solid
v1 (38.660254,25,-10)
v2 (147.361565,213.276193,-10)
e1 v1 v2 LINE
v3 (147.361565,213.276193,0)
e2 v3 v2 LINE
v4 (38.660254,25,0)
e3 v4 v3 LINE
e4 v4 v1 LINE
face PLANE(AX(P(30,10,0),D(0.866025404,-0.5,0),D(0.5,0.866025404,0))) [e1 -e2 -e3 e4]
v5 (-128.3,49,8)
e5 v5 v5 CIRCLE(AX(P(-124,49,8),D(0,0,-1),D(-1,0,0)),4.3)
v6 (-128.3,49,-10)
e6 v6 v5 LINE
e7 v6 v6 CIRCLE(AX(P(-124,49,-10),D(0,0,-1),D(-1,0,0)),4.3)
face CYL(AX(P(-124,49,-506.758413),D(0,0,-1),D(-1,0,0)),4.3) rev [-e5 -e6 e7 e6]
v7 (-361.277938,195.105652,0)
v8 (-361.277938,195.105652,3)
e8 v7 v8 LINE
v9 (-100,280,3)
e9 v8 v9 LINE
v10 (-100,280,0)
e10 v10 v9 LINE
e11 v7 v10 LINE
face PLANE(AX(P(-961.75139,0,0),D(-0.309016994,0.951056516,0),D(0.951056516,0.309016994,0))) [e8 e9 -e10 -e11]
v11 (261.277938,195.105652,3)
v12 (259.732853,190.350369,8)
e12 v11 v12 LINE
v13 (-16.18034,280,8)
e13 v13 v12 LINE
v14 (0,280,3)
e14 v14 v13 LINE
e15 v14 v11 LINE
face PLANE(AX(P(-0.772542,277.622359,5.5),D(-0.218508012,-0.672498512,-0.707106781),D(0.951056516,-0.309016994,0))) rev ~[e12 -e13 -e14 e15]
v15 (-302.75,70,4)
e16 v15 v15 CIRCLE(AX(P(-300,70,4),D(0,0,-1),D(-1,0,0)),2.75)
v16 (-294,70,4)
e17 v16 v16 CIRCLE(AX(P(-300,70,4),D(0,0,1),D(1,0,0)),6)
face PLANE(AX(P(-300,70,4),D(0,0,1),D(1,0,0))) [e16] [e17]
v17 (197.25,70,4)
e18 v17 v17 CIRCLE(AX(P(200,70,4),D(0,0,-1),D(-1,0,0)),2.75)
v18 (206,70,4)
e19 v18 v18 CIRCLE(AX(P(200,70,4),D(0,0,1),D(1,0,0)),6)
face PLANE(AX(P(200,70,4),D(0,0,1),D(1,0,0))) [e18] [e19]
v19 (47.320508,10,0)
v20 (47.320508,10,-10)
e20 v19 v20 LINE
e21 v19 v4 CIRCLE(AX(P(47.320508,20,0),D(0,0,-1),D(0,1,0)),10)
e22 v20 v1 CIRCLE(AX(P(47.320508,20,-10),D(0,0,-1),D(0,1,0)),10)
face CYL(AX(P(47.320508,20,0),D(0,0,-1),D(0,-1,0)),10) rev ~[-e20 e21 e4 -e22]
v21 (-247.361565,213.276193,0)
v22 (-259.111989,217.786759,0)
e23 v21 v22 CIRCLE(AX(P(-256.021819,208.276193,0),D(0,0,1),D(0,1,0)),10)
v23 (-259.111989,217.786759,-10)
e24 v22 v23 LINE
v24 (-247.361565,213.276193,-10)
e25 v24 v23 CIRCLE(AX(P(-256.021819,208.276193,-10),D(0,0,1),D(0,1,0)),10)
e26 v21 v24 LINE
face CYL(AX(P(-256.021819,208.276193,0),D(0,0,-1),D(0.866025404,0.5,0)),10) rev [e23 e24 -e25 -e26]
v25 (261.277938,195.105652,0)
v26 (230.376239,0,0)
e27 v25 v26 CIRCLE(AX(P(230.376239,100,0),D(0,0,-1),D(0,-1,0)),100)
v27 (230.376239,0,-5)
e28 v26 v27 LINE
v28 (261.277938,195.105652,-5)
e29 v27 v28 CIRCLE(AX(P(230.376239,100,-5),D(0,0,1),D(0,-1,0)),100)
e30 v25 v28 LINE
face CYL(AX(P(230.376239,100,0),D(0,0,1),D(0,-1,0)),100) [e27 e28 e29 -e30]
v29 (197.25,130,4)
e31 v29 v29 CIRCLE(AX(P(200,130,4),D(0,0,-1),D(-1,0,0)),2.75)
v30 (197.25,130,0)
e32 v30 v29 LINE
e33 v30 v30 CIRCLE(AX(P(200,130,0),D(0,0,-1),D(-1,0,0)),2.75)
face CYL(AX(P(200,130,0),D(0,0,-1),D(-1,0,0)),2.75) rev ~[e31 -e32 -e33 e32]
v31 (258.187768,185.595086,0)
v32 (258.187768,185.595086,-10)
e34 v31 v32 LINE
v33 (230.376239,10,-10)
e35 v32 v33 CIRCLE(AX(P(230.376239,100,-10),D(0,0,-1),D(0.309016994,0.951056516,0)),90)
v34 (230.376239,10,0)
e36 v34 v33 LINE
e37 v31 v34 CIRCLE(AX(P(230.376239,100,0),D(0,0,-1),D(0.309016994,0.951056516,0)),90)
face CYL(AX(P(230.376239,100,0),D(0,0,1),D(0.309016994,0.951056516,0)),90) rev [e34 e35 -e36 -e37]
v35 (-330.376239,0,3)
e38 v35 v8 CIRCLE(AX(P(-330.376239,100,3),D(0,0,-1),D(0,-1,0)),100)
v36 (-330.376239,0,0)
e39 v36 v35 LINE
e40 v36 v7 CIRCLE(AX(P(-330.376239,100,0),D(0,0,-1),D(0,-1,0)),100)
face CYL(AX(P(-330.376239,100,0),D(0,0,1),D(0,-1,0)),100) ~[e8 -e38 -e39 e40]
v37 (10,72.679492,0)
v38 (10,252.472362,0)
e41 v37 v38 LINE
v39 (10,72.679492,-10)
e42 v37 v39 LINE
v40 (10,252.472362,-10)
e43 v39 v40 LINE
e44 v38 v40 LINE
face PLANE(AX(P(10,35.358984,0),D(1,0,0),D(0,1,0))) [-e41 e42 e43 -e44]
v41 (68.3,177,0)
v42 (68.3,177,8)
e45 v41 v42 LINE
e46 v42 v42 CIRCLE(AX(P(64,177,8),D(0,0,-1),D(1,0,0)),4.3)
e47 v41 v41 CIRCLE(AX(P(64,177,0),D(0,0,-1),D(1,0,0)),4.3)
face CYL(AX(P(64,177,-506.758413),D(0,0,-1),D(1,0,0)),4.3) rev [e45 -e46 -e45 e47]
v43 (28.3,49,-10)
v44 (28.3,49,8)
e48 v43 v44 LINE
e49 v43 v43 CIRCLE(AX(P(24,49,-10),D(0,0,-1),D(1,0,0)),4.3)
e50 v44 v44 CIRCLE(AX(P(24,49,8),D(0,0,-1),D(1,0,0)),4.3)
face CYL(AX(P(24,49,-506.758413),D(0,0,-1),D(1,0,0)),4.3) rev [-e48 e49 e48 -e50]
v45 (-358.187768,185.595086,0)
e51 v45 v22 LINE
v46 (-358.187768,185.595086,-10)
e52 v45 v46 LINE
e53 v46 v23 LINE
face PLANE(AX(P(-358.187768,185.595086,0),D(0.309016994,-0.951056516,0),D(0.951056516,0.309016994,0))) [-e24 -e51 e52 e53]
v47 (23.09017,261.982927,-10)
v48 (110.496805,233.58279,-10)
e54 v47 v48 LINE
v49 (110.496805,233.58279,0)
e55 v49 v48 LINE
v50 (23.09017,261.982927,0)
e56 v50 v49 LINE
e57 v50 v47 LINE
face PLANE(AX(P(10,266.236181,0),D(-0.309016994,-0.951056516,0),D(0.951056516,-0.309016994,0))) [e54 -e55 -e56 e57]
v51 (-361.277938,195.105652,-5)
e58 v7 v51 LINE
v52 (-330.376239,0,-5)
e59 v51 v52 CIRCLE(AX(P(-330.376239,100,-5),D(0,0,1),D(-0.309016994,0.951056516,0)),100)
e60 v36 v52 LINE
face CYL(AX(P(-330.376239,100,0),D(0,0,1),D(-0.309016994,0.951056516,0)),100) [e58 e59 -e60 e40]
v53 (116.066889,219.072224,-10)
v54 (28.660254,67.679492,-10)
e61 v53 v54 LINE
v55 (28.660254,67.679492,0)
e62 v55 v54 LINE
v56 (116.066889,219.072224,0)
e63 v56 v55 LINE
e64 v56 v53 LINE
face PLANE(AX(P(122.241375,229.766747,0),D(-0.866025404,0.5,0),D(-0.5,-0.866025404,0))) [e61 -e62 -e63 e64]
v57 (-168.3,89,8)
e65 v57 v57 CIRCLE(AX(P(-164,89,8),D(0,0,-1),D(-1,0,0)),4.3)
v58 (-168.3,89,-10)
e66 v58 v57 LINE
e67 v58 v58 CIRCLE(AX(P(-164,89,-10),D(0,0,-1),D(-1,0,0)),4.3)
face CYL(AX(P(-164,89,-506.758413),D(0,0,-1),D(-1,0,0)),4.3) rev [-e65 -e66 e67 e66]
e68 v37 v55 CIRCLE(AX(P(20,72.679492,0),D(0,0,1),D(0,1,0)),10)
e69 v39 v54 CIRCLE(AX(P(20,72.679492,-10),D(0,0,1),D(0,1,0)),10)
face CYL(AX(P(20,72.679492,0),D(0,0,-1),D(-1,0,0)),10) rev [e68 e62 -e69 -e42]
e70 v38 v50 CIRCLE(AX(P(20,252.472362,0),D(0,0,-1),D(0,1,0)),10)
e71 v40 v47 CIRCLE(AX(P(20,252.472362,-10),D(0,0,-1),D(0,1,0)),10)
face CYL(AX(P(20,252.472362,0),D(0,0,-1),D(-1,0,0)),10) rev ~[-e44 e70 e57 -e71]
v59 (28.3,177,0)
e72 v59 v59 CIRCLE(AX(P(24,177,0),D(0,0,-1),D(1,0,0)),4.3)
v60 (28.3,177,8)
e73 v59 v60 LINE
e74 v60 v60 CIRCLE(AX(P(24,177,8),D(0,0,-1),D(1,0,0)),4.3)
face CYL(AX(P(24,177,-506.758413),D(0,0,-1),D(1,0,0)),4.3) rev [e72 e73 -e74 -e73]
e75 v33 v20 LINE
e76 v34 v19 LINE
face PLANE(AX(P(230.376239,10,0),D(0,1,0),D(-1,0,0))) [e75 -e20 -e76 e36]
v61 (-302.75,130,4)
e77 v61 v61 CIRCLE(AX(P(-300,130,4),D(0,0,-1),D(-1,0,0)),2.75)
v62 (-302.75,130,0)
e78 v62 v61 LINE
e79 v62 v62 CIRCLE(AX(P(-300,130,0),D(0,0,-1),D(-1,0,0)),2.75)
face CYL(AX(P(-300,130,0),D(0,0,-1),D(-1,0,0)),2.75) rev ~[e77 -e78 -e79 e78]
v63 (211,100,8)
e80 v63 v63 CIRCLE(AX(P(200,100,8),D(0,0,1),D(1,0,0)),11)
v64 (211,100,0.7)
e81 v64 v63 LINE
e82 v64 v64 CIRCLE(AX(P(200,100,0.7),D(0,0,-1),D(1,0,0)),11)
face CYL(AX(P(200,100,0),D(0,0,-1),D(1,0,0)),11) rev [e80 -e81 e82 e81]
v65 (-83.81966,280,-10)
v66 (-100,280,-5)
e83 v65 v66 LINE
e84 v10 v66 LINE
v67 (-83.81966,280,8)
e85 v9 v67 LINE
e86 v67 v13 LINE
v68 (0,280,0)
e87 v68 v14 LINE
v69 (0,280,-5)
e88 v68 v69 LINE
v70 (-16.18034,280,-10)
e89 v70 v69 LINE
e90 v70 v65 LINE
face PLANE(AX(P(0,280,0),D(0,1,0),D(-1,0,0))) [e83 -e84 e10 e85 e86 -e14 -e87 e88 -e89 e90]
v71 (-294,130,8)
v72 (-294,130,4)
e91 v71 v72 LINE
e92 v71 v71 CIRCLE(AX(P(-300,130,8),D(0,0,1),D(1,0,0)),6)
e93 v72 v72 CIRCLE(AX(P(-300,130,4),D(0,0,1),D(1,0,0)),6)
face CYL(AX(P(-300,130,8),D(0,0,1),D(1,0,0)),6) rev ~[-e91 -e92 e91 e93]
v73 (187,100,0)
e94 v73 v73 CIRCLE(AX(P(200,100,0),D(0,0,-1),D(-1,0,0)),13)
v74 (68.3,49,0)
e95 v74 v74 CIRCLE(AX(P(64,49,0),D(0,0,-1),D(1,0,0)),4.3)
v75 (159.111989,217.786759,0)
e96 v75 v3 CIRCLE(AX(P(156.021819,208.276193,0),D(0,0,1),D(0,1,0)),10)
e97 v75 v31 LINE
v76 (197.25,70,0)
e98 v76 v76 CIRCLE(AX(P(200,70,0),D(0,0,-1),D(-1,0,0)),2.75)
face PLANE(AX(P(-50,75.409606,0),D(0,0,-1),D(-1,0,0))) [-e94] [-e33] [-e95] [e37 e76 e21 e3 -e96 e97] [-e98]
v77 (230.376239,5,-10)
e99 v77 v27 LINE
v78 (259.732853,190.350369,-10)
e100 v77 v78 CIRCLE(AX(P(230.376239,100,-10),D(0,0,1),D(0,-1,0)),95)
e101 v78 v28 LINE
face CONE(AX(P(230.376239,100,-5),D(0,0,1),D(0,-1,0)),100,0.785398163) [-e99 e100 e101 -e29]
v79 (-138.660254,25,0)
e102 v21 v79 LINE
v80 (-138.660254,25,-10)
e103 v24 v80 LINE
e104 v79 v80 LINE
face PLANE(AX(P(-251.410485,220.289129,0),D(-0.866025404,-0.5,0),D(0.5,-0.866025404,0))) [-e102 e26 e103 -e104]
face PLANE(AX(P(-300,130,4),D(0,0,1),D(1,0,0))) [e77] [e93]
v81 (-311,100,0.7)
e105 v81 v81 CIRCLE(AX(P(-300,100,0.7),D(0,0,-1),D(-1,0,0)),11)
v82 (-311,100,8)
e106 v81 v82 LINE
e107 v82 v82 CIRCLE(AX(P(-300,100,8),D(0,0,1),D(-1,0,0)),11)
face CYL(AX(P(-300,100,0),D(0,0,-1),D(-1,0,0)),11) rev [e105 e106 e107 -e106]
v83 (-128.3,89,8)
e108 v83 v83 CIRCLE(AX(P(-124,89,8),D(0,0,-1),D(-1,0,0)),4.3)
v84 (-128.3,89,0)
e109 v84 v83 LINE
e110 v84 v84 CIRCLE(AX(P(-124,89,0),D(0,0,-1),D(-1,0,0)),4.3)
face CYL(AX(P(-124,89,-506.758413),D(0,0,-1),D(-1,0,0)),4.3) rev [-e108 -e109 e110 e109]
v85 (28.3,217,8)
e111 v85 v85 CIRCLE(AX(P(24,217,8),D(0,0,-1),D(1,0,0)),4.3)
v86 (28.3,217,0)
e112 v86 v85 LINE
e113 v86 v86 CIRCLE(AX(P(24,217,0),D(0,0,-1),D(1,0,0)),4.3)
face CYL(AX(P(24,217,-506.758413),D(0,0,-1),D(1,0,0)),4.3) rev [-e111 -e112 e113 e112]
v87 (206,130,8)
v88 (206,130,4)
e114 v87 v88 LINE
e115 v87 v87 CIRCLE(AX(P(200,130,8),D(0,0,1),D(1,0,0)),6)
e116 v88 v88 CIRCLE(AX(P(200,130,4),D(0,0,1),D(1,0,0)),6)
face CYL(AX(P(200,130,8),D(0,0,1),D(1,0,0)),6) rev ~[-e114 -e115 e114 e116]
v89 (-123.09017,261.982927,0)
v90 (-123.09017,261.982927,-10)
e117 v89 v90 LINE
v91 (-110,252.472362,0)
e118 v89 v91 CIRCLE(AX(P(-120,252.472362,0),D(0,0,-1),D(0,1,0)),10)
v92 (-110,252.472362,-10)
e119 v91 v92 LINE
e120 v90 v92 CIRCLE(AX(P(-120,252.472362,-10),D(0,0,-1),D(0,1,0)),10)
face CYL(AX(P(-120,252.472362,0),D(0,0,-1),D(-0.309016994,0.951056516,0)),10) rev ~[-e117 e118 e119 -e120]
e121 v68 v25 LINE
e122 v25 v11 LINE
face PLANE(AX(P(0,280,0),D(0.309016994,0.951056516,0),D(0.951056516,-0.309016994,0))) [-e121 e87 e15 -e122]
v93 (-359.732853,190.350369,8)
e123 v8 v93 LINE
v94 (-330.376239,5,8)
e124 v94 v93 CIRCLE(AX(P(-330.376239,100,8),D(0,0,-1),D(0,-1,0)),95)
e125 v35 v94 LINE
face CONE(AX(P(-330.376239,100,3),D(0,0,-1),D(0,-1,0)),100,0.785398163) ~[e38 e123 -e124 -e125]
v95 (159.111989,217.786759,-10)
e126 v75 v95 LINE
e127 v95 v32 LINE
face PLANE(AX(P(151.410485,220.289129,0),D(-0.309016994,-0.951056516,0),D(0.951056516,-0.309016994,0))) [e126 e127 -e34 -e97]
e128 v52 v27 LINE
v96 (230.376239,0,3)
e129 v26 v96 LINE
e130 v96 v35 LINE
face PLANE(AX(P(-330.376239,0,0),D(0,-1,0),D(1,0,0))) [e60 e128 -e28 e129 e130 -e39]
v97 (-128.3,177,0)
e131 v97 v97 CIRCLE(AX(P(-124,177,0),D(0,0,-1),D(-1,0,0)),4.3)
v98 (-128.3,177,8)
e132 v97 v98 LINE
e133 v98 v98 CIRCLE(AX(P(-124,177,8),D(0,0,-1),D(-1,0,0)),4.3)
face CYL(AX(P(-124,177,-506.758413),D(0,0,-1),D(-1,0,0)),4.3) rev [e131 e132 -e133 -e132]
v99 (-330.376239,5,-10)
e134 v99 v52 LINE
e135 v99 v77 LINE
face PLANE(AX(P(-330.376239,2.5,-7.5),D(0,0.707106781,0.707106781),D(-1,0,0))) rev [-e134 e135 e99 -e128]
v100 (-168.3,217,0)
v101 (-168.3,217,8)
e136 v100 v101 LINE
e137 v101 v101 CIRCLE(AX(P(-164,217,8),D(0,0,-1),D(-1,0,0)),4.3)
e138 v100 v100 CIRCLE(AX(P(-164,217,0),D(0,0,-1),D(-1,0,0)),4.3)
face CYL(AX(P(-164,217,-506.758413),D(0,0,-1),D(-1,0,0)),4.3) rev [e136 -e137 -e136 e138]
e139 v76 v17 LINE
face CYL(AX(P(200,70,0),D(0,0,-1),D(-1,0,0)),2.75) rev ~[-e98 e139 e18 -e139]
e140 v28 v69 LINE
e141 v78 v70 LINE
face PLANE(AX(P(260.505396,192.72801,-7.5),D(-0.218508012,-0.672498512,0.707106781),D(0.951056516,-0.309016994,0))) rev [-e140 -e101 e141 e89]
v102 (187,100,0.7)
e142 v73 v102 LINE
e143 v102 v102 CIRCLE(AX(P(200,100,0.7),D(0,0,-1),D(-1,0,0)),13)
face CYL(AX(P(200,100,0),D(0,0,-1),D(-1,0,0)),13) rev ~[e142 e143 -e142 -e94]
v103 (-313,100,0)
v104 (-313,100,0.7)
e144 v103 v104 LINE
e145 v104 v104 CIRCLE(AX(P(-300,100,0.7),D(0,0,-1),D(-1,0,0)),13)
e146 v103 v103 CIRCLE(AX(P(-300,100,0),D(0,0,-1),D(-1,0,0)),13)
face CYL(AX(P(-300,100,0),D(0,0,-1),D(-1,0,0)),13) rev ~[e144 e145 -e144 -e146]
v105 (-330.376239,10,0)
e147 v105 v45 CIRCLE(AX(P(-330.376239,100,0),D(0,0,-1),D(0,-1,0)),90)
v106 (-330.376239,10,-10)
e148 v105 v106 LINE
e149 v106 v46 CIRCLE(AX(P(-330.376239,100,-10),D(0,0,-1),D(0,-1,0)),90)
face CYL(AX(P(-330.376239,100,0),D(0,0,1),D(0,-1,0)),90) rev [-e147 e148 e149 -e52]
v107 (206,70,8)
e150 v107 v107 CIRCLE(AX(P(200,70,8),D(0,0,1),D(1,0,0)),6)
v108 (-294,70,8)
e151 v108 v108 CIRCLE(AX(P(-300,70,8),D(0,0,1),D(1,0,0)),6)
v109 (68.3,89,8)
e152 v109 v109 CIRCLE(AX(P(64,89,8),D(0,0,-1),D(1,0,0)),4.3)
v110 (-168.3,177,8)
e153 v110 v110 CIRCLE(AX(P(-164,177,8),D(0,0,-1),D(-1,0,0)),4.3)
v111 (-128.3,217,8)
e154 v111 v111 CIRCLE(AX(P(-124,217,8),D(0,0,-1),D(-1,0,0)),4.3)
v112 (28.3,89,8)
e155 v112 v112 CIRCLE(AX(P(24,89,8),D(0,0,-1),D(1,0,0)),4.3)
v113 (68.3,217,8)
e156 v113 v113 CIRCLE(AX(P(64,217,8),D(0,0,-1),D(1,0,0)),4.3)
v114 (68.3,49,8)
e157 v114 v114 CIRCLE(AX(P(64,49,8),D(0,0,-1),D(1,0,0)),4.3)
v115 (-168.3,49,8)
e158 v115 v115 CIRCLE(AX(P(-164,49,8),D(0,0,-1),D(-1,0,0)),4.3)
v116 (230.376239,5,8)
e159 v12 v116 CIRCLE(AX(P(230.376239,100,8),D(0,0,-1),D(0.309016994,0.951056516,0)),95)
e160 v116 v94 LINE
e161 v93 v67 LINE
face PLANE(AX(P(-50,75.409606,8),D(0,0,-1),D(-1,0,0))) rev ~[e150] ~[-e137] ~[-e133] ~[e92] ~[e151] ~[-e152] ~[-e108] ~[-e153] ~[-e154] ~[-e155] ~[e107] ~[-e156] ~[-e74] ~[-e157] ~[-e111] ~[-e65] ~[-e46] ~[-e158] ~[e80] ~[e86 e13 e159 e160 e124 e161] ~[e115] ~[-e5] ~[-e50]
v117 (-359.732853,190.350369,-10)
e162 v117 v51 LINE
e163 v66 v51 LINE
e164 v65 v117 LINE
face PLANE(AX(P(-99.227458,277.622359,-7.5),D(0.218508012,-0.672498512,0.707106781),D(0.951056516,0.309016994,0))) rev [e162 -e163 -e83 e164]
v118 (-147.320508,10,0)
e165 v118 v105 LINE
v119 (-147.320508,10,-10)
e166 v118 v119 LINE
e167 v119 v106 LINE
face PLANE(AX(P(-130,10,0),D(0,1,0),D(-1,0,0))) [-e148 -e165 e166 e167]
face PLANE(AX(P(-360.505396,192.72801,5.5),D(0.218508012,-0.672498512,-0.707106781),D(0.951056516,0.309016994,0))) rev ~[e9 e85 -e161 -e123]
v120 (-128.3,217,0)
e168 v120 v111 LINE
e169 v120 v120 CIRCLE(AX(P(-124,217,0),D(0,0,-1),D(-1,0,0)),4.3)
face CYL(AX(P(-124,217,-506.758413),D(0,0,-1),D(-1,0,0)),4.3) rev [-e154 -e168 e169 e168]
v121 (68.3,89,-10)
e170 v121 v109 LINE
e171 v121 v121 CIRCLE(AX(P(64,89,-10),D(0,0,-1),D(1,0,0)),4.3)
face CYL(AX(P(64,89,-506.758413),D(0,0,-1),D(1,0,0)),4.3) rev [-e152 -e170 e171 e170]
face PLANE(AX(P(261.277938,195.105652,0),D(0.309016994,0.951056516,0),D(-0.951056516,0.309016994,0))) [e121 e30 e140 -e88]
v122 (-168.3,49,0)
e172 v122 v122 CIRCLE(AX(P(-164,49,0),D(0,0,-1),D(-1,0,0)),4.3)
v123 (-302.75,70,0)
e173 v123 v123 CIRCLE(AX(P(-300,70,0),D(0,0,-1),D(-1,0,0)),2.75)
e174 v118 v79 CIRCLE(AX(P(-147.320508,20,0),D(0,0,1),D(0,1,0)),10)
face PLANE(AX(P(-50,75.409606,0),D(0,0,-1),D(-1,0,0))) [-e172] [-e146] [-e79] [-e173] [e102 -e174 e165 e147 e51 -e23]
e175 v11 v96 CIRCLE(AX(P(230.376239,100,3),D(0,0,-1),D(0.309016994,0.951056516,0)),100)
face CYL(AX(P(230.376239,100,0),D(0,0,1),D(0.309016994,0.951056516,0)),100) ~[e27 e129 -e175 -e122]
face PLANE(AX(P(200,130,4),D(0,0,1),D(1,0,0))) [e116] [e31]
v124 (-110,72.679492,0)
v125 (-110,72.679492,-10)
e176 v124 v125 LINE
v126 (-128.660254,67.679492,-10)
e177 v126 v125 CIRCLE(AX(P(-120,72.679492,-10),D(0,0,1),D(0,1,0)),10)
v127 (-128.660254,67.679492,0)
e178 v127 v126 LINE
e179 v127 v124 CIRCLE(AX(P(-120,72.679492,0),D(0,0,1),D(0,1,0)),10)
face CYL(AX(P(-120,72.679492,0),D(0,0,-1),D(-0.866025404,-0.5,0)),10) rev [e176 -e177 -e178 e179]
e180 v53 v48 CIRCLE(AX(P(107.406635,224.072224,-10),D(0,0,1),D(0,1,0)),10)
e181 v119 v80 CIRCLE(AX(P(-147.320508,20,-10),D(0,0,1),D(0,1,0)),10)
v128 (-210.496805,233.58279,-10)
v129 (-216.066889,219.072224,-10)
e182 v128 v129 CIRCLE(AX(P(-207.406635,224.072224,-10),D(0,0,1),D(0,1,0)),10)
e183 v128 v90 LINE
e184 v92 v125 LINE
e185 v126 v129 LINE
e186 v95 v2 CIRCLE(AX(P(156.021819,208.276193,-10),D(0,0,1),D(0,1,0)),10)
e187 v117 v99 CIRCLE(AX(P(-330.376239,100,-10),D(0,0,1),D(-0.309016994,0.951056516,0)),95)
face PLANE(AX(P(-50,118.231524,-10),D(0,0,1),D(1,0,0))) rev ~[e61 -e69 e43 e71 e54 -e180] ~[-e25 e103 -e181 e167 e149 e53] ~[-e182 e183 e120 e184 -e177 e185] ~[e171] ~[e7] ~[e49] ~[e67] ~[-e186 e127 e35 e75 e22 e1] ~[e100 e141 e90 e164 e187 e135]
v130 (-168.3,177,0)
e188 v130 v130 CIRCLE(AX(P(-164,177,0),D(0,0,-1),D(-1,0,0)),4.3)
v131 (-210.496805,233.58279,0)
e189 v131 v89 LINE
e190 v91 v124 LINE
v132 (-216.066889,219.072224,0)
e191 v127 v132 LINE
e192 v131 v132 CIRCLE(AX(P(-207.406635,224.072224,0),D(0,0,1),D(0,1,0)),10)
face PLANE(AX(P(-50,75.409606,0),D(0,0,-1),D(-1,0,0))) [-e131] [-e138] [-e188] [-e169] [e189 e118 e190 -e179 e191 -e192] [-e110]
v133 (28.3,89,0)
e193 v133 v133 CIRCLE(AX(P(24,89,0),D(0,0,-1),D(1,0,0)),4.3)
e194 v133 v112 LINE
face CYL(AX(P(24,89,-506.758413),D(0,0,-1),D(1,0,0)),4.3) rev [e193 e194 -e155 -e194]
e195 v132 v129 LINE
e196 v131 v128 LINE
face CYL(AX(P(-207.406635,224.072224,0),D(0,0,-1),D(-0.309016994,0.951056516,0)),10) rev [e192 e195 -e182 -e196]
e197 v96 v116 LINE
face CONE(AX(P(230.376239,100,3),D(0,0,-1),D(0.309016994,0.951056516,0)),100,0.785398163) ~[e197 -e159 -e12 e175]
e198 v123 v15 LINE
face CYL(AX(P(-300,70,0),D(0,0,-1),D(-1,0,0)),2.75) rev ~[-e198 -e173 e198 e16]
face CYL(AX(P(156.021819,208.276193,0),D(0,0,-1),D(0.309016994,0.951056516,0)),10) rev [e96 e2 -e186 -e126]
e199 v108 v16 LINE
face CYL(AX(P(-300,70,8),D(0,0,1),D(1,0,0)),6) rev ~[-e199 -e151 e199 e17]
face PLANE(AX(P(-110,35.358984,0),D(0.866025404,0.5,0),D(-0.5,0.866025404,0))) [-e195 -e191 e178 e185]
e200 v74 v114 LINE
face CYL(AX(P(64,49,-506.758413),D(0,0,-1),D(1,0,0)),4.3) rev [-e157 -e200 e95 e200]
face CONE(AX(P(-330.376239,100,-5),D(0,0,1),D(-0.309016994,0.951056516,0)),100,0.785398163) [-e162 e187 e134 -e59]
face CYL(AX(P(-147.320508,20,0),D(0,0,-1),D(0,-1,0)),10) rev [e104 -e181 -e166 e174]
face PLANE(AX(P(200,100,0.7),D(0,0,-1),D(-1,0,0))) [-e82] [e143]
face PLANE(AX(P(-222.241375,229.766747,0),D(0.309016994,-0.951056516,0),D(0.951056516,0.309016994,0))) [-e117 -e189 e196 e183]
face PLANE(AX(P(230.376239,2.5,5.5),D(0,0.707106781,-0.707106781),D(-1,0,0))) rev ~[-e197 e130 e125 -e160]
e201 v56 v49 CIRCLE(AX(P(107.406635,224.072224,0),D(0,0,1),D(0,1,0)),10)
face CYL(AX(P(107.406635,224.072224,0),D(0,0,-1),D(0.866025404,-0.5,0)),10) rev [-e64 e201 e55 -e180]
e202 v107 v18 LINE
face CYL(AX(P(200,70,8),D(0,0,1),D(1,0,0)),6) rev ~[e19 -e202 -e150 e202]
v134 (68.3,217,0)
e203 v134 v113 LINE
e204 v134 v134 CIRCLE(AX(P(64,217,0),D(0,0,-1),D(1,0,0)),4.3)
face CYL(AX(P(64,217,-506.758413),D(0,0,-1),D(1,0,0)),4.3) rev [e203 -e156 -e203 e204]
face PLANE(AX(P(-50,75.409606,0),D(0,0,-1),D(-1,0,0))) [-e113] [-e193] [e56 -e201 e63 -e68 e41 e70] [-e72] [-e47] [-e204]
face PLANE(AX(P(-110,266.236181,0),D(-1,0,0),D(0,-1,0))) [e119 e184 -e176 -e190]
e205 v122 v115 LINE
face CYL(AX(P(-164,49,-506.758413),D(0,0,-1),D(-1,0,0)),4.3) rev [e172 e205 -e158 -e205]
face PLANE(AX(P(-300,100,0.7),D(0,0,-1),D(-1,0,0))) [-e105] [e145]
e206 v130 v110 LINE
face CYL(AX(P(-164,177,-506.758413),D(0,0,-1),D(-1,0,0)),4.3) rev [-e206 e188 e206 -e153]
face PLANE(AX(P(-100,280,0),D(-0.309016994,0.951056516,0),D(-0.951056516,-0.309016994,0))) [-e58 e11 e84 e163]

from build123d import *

# Parameters (mm, degrees)
SKETCH_1_R               = 11
EXTRUDE_1_DEPTH          = 8
FILLET_1_R               = 100
FILLET_3_R               = 100
EXTRUDE_2_DEPTH          = 10
FILLET_2_R               = 10
CHAMFER_1_SIZE           = 5
SKETCH_4_R               = 13
CUT_EXTRUDE_1_DEPTH      = 0.7
SKETCH_5_R               = 2.75
CUT_EXTRUDE_2_DEPTH      = 514.540365546
SKETCH_6_R               = 6
CUT_EXTRUDE_3_DEPTH      = 4
CUT_EXTRUDE_4_DEPTH      = 514.758413114
CUT_EXTRUDE_4_DEPTH_BACK = 514.758413114
SKETCH_7_R               = 4.3


with BuildPart() as part:
    # 草图1 → 凸台-拉伸1 (new body)
    with BuildSketch(Plane.XY):
        Polygon((0, 280), (861.751390409, 0), (0, 0), (-100, 0), (-961.751390409, 0), (-100, 280), align=None)
        with Locations((200, 100)):
            Circle(SKETCH_1_R, mode=Mode.SUBTRACT)
        with Locations(Location((-300, 100, 0), (0, 0, 180))):
            Circle(SKETCH_1_R, mode=Mode.SUBTRACT)
    extrude(amount=EXTRUDE_1_DEPTH)

    # 圆角1
    fillet_1_edges = [part.edges().sort_by_distance(p)[0] for p in [
        (861.751390409, 0, 4),
    ]]
    fillet(fillet_1_edges, radius=FILLET_1_R)

    # 圆角3
    fillet_3_edges = [part.edges().sort_by_distance(p)[0] for p in [
        (-961.751390409, 0, 4),
    ]]
    fillet(fillet_3_edges, radius=FILLET_3_R)

    # 草图2 → 凸台-拉伸2 (add)
    with BuildSketch(Plane.XY):
        with BuildLine():
            Line((0, 280), (-100, 280))
            Line((-100, 280), (-361.277938379, 195.10565163))
            ThreePointArc((-361.277938379, 195.10565163), (-429.145073001, 84.356553496), (-330.376238942, 0))
            Line((-330.376238942, 0), (230.376238942, 0))
            ThreePointArc((230.376238942, 0), (329.145073001, 84.356553496), (261.277938379, 195.10565163))
            Line((261.277938379, 195.10565163), (0, 280))
        make_face()
        Polygon((10, 266.236180795), (122.241374643, 229.766747442), (10, 35.358983849), align=None, mode=Mode.SUBTRACT)
        with BuildLine():
            Line((230.376238942, 10), (30, 10))
            Line((30, 10), (151.410485182, 220.289128906))
            Line((151.410485182, 220.289128906), (258.187768435, 185.595086467))
            ThreePointArc((258.187768435, 185.595086467), (319.268189595, 85.920898146), (230.376238942, 10))
        make_face(mode=Mode.SUBTRACT)
        Polygon((-110, 266.236180795), (-110, 35.358983849), (-222.241374643, 229.766747442), align=None, mode=Mode.SUBTRACT)
        with BuildLine():
            Line((-358.187768435, 185.595086467), (-251.410485182, 220.289128906))
            Line((-251.410485182, 220.289128906), (-130, 10))
            Line((-130, 10), (-330.376238942, 10))
            ThreePointArc((-330.376238942, 10), (-419.268189595, 85.920898146), (-358.187768435, 185.595086467))
        make_face(mode=Mode.SUBTRACT)
    extrude(amount=-EXTRUDE_2_DEPTH)

    # 圆角2
    fillet_2_edges = [part.edges().sort_by_distance(p)[0] for p in [
        (-110, 35.358983849, -5),
        (-110, 266.236180795, -5),
        (-130, 10, -5),
        (10, 266.236180795, -5),
        (10, 35.358983849, -5),
        (151.410485182, 220.289128906, -5),
        (30, 10, -5),
        (-251.410485182, 220.289128906, -5),
        (122.241374643, 229.766747442, -5),
        (-222.241374643, 229.766747442, -5),
    ]]
    fillet(fillet_2_edges, radius=FILLET_2_R)

    # 倒角1
    chamfer_1_edges = [part.edges().sort_by_distance(p)[0] for p in [
        (-230.63896919, 237.552825815, 8),
        (130.63896919, 237.552825815, 8),
        (329.145073001, 84.356553496, 8),
        (-50, 0, 8),
        (-429.145073001, 84.356553496, 8),
        (-230.63896919, 237.552825815, -10),
        (130.63896919, 237.552825815, -10),
        (329.145073001, 84.356553496, -10),
        (-50, 0, -10),
        (-429.145073001, 84.356553496, -10),
    ]]
    chamfer(chamfer_1_edges, length=CHAMFER_1_SIZE)

    # 草图4 → 切除-拉伸1 (cut)
    with BuildSketch(Plane(origin=(0, 0, 0), x_dir=(-1, 0, 0), z_dir=(0, 0, -1))):
        with Locations((-200, 100)):
            Circle(SKETCH_4_R)
        with Locations((300, 100)):
            Circle(SKETCH_4_R)
    extrude(amount=-CUT_EXTRUDE_1_DEPTH, mode=Mode.SUBTRACT)

    # 草图5 → 切除-拉伸2 (cut, through all)
    with BuildSketch(Plane(origin=(0, 0, 0), x_dir=(-1, 0, 0), z_dir=(0, 0, -1))):
        with Locations((-200, 130)):
            Circle(SKETCH_5_R)
        with Locations((-200, 70)):
            Circle(SKETCH_5_R)
        with Locations((300, 130)):
            Circle(SKETCH_5_R)
        with Locations((300, 70)):
            Circle(SKETCH_5_R)
    extrude(amount=-CUT_EXTRUDE_2_DEPTH, mode=Mode.SUBTRACT)

    # 草图6 → 切除-拉伸3 (cut)
    with BuildSketch(Plane.XY.offset(8)):
        with Locations((200, 130)):
            Circle(SKETCH_6_R)
        with Locations((200, 70)):
            Circle(SKETCH_6_R)
        with Locations((-300, 130)):
            Circle(SKETCH_6_R)
        with Locations((-300, 70)):
            Circle(SKETCH_6_R)
    extrude(amount=-CUT_EXTRUDE_3_DEPTH, mode=Mode.SUBTRACT)

    # 草图7 → 切除-拉伸4 (cut, two sides: drawn at the far end of the back side and taken through both)
    with BuildSketch(Plane.XY.offset(8).offset(-CUT_EXTRUDE_4_DEPTH_BACK)):
        with Locations((64, 217)):
            Circle(SKETCH_7_R)
        with Locations((24, 217)):
            Circle(SKETCH_7_R)
        with Locations((64, 177)):
            Circle(SKETCH_7_R)
        with Locations((24, 177)):
            Circle(SKETCH_7_R)
        with Locations((64, 89)):
            Circle(SKETCH_7_R)
        with Locations((24, 89)):
            Circle(SKETCH_7_R)
        with Locations((64, 49)):
            Circle(SKETCH_7_R)
        with Locations((24, 49)):
            Circle(SKETCH_7_R)
        with Locations(Location((-124, 49, 0), (0, 0, 180))):
            Circle(SKETCH_7_R)
        with Locations(Location((-164, 49, 0), (0, 0, 180))):
            Circle(SKETCH_7_R)
        with Locations(Location((-124, 89, 0), (0, 0, 180))):
            Circle(SKETCH_7_R)
        with Locations(Location((-164, 89, 0), (0, 0, 180))):
            Circle(SKETCH_7_R)
        with Locations(Location((-124, 177, 0), (0, 0, 180))):
            Circle(SKETCH_7_R)
        with Locations(Location((-164, 177, 0), (0, 0, 180))):
            Circle(SKETCH_7_R)
        with Locations(Location((-124, 217, 0), (0, 0, 180))):
            Circle(SKETCH_7_R)
        with Locations(Location((-164, 217, 0), (0, 0, 180))):
            Circle(SKETCH_7_R)
    extrude(amount=CUT_EXTRUDE_4_DEPTH + CUT_EXTRUDE_4_DEPTH_BACK, mode=Mode.SUBTRACT)


solid = part.part
